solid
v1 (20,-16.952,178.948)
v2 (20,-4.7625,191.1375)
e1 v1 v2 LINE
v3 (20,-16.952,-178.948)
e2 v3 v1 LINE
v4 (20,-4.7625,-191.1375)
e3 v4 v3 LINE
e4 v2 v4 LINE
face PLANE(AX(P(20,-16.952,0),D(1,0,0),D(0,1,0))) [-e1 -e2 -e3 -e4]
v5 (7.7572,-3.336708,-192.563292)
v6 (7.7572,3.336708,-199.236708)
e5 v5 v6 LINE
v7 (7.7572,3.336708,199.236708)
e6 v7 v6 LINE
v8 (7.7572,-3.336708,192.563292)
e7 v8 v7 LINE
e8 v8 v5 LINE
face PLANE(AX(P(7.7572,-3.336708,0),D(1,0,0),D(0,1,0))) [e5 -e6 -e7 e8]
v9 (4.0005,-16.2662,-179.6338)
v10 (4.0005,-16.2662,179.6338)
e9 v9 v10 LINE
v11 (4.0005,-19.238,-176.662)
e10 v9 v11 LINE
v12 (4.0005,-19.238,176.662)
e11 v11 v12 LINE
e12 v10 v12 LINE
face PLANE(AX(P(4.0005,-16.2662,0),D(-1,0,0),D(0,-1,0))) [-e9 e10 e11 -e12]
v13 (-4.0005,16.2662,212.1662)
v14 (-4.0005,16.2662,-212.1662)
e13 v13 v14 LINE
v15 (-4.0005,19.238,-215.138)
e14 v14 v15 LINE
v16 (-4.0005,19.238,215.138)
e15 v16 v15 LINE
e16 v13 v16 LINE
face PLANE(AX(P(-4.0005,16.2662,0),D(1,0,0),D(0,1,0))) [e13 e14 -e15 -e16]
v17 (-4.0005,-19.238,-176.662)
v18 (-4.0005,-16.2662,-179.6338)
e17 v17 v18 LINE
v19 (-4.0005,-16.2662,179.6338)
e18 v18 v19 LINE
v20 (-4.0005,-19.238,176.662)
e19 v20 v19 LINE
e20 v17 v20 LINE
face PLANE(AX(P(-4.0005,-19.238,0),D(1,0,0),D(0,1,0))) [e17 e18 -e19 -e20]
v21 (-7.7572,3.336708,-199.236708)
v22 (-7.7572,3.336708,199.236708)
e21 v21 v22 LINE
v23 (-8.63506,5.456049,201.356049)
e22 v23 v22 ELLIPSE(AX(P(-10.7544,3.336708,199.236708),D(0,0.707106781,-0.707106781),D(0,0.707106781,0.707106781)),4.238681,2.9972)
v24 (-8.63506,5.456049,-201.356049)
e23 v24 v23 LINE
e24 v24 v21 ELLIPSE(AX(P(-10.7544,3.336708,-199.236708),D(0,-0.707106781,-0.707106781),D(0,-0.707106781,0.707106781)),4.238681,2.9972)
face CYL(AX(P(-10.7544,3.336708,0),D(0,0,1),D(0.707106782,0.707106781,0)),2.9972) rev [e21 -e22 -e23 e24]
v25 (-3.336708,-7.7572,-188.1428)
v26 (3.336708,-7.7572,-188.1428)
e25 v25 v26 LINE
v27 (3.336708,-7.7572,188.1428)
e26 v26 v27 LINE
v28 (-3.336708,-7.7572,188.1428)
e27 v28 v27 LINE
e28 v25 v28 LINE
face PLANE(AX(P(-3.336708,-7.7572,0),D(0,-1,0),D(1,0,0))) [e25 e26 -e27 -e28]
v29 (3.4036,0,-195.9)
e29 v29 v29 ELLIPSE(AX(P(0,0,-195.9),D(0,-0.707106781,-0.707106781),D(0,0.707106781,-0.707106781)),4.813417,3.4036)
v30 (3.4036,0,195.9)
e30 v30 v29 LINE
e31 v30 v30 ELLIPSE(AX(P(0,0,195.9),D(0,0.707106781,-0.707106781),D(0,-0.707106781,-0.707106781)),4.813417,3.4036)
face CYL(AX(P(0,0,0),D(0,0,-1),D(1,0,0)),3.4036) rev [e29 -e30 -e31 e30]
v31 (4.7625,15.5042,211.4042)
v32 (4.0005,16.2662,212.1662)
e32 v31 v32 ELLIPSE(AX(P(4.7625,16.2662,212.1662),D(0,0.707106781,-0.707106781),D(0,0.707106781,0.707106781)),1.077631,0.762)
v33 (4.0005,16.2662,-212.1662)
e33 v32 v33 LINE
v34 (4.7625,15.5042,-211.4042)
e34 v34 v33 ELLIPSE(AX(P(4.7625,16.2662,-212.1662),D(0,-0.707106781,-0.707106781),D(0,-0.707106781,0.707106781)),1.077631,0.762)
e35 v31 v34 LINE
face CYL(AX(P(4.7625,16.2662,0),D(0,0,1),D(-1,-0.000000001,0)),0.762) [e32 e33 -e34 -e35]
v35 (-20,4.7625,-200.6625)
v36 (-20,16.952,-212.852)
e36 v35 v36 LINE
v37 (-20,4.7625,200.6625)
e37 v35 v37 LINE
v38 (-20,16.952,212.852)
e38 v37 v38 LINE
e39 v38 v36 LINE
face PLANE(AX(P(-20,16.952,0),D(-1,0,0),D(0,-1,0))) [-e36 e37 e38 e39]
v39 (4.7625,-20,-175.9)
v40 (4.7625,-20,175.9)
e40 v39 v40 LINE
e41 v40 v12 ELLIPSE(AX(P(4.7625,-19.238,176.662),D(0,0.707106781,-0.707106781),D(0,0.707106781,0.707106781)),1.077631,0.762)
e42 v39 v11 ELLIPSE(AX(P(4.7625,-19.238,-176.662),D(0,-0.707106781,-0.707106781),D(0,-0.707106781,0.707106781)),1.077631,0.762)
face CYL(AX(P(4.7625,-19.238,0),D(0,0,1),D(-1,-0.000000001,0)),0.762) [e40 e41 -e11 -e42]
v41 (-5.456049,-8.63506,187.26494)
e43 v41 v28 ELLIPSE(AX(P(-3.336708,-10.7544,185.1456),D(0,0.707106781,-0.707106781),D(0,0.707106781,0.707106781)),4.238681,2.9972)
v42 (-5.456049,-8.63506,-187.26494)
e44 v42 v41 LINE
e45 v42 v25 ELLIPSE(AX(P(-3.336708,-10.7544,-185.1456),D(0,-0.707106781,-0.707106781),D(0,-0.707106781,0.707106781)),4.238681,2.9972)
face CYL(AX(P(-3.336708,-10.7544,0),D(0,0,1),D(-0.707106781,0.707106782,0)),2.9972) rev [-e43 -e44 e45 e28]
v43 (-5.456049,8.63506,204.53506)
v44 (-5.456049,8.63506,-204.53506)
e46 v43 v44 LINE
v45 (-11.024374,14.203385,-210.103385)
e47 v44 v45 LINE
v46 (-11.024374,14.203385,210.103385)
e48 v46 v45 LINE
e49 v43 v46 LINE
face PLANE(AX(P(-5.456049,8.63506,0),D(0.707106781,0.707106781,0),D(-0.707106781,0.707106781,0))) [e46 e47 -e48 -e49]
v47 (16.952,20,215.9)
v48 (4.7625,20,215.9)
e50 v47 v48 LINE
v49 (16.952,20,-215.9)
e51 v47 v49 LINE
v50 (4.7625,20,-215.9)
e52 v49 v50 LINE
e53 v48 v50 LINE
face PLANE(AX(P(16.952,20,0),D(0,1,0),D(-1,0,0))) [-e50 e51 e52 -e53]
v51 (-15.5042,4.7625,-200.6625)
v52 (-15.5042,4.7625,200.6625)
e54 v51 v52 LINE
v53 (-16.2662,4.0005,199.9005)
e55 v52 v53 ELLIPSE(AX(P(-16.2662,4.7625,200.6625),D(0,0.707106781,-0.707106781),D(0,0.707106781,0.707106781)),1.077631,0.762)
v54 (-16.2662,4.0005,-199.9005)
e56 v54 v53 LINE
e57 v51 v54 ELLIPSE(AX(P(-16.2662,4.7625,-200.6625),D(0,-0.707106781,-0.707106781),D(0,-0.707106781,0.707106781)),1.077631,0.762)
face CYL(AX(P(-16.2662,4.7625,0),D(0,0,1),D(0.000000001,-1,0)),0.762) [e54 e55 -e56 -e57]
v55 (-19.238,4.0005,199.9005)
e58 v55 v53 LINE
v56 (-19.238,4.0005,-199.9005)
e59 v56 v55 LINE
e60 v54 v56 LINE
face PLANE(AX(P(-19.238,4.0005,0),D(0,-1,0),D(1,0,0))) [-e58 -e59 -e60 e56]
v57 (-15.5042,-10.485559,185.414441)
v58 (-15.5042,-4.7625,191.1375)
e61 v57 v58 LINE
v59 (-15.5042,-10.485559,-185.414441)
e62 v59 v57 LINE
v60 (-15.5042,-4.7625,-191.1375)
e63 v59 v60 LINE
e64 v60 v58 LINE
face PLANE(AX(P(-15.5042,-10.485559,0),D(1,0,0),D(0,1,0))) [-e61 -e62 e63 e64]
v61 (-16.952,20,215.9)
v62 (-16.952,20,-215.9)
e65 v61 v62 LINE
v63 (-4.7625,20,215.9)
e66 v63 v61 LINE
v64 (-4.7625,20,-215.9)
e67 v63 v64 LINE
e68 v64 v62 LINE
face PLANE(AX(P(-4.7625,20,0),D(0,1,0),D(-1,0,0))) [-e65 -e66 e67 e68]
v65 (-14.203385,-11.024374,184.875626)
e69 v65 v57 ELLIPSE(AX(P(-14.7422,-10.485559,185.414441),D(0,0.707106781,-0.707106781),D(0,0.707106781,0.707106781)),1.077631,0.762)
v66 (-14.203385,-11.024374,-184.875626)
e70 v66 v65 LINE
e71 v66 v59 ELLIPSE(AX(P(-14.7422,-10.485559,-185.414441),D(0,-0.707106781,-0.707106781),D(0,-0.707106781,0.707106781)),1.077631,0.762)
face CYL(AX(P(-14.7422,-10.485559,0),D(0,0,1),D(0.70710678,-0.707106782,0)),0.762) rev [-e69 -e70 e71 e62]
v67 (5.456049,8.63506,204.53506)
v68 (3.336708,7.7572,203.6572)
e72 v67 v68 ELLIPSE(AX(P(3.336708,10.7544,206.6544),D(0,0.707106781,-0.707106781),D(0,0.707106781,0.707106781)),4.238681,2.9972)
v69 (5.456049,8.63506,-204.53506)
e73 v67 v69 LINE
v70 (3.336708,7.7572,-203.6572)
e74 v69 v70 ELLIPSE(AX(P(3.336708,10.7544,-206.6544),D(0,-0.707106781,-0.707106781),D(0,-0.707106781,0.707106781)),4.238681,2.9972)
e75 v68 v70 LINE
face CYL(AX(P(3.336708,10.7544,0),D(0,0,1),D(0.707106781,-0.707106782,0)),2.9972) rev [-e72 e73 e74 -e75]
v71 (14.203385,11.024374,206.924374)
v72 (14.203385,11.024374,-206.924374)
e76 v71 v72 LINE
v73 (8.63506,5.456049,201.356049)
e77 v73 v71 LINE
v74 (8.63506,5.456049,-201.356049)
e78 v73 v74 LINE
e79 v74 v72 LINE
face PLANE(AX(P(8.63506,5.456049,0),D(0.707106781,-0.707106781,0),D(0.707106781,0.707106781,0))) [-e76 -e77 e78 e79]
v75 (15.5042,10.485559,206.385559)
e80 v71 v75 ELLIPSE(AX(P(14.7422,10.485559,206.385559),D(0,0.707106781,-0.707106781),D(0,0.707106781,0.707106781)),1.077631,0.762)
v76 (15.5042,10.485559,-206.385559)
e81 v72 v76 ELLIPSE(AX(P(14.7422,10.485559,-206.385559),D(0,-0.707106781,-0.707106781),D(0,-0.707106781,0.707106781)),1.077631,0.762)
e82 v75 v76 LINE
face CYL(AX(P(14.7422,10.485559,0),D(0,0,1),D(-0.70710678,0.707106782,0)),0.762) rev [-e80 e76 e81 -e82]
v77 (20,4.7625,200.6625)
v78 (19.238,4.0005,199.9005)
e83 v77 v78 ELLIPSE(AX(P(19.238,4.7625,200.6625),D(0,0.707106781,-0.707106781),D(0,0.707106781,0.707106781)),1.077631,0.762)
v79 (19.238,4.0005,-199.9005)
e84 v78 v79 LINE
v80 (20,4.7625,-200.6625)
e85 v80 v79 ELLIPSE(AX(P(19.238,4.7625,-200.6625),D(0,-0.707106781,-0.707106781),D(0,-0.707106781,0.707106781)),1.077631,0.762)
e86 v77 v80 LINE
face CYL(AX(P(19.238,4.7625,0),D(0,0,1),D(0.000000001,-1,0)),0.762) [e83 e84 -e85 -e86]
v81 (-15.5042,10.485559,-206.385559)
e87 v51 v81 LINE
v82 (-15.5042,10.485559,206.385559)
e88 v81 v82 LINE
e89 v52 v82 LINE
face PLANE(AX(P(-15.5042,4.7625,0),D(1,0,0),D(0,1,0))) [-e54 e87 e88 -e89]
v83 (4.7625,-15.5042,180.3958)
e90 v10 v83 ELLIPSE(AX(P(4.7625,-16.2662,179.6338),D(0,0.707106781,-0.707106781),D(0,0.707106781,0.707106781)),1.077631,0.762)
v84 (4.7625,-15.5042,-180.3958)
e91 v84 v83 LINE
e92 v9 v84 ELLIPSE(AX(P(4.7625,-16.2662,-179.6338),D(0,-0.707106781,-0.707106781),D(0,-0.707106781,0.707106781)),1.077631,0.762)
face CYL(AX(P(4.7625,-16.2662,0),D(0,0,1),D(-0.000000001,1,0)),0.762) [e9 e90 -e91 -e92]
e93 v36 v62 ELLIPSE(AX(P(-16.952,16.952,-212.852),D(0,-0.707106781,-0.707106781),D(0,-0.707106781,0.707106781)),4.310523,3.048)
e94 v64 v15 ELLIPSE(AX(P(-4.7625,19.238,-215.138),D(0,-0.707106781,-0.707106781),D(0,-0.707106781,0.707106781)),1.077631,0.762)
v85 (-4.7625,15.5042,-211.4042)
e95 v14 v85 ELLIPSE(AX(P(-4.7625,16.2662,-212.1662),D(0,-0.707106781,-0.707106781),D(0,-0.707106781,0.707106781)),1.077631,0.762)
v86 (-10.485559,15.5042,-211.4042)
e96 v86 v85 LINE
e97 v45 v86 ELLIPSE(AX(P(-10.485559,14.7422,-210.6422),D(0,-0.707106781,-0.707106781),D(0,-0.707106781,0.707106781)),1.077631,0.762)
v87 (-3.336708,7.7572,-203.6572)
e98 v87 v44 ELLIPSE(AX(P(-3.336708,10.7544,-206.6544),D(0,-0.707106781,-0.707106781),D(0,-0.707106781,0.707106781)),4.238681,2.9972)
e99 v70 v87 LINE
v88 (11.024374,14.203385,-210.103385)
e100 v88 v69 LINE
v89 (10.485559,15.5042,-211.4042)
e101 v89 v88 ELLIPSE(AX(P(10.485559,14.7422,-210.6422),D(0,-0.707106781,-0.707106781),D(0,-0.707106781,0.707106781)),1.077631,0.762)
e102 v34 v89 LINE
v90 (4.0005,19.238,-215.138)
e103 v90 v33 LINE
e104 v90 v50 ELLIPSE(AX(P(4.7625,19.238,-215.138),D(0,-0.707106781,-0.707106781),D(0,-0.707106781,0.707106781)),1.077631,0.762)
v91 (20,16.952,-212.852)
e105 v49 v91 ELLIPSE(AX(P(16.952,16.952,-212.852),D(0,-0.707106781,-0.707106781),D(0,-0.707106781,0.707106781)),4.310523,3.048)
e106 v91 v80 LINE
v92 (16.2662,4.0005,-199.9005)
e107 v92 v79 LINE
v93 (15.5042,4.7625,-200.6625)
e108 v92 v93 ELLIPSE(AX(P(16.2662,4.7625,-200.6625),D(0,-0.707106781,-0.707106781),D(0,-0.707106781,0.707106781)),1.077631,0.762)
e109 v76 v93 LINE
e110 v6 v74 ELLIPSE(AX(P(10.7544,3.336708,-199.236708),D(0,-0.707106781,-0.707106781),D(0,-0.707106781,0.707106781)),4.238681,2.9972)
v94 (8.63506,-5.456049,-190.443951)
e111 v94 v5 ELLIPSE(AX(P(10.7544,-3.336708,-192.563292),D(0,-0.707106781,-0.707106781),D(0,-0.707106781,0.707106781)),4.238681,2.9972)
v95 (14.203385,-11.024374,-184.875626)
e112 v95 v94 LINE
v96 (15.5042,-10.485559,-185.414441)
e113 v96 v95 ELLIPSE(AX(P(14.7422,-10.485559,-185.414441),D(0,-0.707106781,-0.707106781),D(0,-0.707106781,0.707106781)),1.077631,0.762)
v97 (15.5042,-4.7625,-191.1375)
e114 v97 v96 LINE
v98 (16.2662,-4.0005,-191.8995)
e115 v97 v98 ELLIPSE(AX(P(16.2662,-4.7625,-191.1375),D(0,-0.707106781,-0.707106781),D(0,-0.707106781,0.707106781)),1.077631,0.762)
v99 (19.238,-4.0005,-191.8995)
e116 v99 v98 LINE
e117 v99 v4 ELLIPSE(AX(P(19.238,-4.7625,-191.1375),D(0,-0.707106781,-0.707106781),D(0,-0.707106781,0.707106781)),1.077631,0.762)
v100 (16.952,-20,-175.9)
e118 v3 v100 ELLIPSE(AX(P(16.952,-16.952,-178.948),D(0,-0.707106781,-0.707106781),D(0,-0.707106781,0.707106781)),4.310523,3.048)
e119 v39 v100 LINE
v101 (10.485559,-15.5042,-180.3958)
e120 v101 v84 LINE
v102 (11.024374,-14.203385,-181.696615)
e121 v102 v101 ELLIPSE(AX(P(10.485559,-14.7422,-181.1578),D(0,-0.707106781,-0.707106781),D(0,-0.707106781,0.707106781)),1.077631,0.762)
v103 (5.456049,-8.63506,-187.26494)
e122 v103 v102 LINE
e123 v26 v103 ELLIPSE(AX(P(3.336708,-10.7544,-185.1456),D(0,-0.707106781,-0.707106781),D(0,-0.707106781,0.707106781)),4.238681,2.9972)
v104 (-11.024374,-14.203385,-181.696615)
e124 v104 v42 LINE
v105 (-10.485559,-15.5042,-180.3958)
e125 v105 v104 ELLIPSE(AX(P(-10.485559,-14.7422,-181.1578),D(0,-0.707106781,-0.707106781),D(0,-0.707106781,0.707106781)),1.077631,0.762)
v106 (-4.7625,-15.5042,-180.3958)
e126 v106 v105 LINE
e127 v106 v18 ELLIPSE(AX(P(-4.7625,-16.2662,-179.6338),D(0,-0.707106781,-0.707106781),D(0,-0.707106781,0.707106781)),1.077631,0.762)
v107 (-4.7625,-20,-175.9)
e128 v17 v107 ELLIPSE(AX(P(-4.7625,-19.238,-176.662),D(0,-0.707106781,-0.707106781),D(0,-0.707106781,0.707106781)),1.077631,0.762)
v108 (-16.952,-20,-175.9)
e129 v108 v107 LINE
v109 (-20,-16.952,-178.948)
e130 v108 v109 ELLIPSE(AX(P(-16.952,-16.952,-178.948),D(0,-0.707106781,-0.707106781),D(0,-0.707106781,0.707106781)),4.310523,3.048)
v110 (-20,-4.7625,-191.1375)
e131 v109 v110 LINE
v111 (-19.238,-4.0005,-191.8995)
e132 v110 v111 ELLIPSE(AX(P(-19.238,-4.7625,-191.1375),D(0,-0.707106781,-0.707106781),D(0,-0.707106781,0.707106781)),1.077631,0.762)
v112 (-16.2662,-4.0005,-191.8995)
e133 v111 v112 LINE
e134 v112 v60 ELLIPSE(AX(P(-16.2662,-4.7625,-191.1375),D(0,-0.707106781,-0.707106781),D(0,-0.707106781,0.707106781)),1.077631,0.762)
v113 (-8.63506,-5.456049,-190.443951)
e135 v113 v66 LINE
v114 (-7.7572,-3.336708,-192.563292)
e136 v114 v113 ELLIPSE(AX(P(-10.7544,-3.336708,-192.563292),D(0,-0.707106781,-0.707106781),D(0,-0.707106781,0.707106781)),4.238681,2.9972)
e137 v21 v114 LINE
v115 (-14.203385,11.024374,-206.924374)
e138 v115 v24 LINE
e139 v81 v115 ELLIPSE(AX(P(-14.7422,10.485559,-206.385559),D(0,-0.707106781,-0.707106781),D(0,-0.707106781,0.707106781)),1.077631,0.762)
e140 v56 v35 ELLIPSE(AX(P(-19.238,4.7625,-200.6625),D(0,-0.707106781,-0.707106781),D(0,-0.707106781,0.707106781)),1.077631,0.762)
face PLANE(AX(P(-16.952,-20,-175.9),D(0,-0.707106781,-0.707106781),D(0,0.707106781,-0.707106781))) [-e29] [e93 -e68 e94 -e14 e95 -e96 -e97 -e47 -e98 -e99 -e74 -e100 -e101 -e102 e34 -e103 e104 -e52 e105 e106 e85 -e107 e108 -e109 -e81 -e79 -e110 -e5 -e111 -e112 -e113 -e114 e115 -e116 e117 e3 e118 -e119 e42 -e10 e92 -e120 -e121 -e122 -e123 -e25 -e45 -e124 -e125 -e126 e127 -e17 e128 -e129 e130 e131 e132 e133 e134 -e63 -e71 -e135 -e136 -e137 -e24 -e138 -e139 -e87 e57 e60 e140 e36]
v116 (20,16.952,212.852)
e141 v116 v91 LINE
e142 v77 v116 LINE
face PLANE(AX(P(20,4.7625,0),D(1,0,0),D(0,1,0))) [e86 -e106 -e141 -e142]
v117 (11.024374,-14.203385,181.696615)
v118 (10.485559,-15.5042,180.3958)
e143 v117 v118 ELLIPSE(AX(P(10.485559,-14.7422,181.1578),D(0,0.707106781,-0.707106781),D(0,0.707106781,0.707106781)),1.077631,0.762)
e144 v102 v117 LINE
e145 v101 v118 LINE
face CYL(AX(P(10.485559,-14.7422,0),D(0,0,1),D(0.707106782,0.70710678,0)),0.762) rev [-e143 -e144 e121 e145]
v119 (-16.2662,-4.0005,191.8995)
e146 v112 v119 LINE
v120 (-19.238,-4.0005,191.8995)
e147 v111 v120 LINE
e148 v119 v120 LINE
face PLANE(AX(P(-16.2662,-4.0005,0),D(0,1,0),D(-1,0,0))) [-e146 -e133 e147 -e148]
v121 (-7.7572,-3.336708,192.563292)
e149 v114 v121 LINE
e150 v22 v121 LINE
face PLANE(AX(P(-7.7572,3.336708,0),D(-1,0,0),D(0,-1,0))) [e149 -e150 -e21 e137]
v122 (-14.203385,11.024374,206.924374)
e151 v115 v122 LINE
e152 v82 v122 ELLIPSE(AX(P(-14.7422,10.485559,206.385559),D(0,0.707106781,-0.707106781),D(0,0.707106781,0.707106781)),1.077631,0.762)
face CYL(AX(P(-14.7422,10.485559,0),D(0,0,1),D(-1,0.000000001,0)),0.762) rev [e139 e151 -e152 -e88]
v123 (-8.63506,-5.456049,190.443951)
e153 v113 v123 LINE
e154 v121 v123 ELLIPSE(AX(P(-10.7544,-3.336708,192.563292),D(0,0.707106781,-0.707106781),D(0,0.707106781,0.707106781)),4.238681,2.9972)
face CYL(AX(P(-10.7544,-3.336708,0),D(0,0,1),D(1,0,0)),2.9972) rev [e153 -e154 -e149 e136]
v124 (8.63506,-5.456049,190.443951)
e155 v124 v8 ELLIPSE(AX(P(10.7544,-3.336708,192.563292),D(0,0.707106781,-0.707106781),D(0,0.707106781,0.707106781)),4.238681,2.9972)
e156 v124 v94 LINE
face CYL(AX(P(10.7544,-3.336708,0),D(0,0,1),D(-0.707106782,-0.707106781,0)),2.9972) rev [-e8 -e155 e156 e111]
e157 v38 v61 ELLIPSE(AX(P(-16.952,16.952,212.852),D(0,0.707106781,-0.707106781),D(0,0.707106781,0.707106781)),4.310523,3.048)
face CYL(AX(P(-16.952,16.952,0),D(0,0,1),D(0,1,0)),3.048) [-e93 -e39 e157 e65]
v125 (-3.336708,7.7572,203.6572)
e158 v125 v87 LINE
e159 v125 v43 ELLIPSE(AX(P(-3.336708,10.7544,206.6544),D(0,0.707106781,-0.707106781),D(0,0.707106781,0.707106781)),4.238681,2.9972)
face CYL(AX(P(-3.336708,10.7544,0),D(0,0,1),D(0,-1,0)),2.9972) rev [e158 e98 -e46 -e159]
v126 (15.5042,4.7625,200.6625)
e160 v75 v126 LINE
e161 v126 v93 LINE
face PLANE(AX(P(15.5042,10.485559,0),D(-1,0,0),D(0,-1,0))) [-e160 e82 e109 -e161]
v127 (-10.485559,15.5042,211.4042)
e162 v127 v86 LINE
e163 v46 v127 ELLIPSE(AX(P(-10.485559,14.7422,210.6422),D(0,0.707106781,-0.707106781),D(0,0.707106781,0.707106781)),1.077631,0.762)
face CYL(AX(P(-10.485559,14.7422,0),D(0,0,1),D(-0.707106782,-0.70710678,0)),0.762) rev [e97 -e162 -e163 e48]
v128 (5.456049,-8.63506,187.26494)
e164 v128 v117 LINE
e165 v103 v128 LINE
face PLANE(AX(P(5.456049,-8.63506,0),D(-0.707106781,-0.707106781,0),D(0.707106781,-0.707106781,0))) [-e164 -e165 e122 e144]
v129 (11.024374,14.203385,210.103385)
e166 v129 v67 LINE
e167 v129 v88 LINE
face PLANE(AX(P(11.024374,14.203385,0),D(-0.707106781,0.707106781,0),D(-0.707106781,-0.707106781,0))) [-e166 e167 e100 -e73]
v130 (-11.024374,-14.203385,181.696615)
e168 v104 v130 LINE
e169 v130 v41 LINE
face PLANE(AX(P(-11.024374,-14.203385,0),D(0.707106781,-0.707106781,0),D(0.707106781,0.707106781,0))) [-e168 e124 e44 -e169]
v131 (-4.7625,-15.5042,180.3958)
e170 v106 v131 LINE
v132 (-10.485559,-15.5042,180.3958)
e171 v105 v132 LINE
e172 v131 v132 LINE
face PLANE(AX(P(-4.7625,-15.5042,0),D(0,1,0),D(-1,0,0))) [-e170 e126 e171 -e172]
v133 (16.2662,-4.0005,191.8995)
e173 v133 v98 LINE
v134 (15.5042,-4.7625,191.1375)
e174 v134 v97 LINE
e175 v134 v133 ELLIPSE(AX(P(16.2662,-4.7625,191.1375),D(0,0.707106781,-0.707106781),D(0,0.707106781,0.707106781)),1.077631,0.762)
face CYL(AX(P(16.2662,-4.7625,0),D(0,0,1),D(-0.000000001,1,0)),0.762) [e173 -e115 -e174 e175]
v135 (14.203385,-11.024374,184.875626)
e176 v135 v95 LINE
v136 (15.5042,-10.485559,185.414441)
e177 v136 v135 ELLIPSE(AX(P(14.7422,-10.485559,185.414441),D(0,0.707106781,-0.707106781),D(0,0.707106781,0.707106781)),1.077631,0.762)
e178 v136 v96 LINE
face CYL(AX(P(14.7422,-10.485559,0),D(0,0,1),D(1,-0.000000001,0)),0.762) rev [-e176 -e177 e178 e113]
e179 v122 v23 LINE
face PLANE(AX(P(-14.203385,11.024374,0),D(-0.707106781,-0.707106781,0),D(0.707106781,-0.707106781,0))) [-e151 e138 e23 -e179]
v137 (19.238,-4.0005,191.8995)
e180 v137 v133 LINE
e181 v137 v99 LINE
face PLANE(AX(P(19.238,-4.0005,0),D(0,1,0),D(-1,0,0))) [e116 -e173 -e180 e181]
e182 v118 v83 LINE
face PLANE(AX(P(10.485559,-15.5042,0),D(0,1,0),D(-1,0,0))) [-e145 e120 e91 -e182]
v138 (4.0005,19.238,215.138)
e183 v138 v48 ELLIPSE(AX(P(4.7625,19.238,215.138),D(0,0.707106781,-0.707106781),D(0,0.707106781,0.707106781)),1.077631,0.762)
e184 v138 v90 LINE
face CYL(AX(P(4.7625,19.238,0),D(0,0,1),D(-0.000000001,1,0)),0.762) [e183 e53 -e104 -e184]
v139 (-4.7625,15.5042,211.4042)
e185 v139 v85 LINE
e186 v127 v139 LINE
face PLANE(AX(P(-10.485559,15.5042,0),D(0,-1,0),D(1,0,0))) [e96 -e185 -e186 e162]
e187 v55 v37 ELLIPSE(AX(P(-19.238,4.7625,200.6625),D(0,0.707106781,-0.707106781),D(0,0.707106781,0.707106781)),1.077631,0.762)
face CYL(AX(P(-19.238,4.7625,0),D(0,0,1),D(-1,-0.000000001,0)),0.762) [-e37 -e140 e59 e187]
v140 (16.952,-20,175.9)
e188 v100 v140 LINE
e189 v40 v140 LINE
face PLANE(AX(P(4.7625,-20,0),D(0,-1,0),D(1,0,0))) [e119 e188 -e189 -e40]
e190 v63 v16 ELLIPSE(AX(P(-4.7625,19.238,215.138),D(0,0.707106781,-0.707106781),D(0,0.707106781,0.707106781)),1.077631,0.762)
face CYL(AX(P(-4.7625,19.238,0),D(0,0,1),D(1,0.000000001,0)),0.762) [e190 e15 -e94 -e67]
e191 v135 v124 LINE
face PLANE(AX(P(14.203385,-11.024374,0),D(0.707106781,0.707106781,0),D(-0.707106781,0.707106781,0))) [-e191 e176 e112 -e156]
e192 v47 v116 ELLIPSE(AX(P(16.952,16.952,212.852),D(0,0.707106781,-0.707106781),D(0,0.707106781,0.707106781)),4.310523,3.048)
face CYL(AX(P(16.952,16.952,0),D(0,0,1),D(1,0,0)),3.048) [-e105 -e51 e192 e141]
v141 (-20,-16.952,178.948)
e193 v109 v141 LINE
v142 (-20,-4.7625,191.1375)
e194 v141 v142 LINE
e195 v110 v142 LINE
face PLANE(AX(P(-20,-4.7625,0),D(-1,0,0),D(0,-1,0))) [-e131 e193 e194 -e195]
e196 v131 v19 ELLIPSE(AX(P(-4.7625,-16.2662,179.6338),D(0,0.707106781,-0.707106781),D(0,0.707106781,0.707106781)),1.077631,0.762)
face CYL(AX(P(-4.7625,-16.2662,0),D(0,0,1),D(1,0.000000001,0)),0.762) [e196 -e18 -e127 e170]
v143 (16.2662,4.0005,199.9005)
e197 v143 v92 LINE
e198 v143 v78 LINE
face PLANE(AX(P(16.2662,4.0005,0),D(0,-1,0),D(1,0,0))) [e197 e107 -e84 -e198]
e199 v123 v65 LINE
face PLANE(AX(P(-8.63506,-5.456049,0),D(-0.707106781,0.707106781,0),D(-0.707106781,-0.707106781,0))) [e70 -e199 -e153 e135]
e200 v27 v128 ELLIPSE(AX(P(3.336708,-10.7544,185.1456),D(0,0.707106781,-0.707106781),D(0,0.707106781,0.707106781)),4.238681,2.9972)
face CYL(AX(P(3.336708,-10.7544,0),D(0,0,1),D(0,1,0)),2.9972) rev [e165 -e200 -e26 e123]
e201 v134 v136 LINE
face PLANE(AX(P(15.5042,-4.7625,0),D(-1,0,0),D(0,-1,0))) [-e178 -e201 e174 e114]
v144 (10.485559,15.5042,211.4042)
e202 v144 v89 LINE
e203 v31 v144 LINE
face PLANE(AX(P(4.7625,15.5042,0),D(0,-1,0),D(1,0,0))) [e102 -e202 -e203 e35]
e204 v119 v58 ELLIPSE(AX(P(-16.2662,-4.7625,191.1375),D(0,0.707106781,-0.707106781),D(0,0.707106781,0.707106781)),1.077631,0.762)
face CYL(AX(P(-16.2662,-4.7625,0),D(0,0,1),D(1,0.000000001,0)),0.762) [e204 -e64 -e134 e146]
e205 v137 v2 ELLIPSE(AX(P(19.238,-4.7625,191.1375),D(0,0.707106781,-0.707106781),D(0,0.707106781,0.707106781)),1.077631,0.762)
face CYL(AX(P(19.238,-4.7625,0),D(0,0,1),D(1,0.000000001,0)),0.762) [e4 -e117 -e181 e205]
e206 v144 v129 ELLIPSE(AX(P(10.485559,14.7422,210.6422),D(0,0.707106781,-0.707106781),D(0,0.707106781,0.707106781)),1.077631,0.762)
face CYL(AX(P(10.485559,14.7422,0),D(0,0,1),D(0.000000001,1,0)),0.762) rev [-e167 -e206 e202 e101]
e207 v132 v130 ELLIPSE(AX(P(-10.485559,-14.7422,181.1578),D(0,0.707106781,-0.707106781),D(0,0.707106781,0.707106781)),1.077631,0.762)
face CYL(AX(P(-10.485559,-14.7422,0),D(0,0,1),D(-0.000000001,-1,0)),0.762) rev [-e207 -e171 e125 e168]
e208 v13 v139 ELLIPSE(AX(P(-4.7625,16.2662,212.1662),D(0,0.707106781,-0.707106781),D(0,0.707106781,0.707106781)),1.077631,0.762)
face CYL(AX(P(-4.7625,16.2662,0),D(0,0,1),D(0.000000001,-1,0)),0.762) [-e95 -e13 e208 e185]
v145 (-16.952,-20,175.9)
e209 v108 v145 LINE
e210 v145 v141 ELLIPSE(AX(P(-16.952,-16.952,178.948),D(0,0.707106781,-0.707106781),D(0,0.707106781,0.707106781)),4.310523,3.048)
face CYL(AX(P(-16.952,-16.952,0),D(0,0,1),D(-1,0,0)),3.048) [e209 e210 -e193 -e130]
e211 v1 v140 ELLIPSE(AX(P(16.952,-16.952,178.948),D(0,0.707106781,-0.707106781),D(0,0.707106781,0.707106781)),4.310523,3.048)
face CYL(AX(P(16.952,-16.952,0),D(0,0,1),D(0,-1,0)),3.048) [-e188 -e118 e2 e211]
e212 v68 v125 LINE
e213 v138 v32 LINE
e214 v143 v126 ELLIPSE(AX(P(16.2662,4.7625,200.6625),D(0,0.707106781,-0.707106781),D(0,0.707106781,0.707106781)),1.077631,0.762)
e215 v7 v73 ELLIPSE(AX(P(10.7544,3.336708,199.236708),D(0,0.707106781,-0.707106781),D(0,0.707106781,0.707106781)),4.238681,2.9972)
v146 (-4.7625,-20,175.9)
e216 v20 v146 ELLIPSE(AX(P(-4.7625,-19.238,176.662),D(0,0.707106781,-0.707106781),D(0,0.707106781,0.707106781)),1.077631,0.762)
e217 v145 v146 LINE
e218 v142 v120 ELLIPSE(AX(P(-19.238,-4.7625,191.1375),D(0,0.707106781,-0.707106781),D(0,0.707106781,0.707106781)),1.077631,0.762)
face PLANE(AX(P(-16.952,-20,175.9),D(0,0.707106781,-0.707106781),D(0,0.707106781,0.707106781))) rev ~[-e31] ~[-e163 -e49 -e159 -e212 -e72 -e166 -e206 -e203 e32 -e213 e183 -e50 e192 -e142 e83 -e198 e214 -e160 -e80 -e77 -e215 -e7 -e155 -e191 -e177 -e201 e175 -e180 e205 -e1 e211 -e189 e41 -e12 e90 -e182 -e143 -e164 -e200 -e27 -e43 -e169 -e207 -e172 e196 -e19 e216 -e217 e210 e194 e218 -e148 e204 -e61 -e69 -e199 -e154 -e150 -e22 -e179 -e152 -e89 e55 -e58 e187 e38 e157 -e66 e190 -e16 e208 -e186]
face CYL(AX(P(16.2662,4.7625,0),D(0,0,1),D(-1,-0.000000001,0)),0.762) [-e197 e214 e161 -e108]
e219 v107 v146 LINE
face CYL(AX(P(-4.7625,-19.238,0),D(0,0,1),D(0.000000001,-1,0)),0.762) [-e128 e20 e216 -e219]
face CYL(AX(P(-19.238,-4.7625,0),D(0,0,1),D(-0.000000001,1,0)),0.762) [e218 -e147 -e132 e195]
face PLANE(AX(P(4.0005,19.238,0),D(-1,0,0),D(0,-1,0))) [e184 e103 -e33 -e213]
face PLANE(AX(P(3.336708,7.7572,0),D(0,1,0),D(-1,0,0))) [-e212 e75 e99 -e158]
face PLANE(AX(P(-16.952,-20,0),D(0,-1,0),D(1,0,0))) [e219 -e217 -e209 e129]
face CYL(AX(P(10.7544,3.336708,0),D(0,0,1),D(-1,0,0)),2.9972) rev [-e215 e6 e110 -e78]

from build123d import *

# Parameters (mm, degrees)
SKETCH1_R          = 3.4036
EXTRUDE1_DEPTH     = 215.9
CUT_EXTRUDE1_DEPTH = 436.22027791
CUT_EXTRUDE2_DEPTH = 3.048
CUT_EXTRUDE5_REACH = 437.22
CUT_EXTRUDE6_DEPTH = 3.048


with BuildPart() as part:
    # Sketch1 → Extrude1 (new, symmetric)
    with BuildSketch(Plane.XY):
        with BuildLine():
            Line((-20, 16.952), (-20, 4.7625))
            ThreePointArc((-20, 4.7625), (-19.776815367, 4.223684633), (-19.238, 4.0005))
            Line((-19.238, 4.0005), (-16.2662, 4.0005))
            ThreePointArc((-16.2662, 4.0005), (-15.727384633, 4.223684633), (-15.5042, 4.7625))
            Line((-15.5042, 4.7625), (-15.5042, 10.485558599))
            ThreePointArc((-15.5042, 10.485558599), (-15.033804775, 11.189554802), (-14.203384633, 11.024373966))
            Line((-14.203384633, 11.024373966), (-8.635059555, 5.456048889))
            ThreePointArc((-8.635059555, 5.456048889), (-7.985348265, 4.483687227), (-7.7572, 3.336708444))
            Line((-7.7572, 3.336708444), (-7.7572, -3.336708444))
            ThreePointArc((-7.7572, -3.336708444), (-7.985348265, -4.483687227), (-8.635059555, -5.456048889))
            Line((-8.635059555, -5.456048889), (-14.203384633, -11.024373966))
            ThreePointArc((-14.203384633, -11.024373966), (-15.033804775, -11.189554802), (-15.5042, -10.485558599))
            Line((-15.5042, -10.485558599), (-15.5042, -4.7625))
            ThreePointArc((-15.5042, -4.7625), (-15.727384633, -4.223684633), (-16.2662, -4.0005))
            Line((-16.2662, -4.0005), (-19.238, -4.0005))
            ThreePointArc((-19.238, -4.0005), (-19.776815367, -4.223684633), (-20, -4.7625))
            Line((-20, -4.7625), (-20, -16.952))
            ThreePointArc((-20, -16.952), (-19.107261469, -19.107261469), (-16.952, -20))
            Line((-16.952, -20), (-4.7625, -20))
            ThreePointArc((-4.7625, -20), (-4.223684633, -19.776815367), (-4.0005, -19.238))
            Line((-4.0005, -19.238), (-4.0005, -16.2662))
            ThreePointArc((-4.0005, -16.2662), (-4.223684633, -15.727384633), (-4.7625, -15.5042))
            Line((-4.7625, -15.5042), (-10.485558599, -15.5042))
            ThreePointArc((-10.485558599, -15.5042), (-11.189554802, -15.033804775), (-11.024373966, -14.203384633))
            Line((-11.024373966, -14.203384633), (-5.456048889, -8.635059555))
            ThreePointArc((-5.456048889, -8.635059555), (-4.483687227, -7.985348265), (-3.336708444, -7.7572))
            Line((-3.336708444, -7.7572), (3.336708444, -7.7572))
            ThreePointArc((3.336708444, -7.7572), (4.483687227, -7.985348265), (5.456048889, -8.635059555))
            Line((5.456048889, -8.635059555), (11.024373966, -14.203384633))
            ThreePointArc((11.024373966, -14.203384633), (11.189554802, -15.033804775), (10.485558599, -15.5042))
            Line((10.485558599, -15.5042), (4.7625, -15.5042))
            ThreePointArc((4.7625, -15.5042), (4.223684633, -15.727384633), (4.0005, -16.2662))
            Line((4.0005, -16.2662), (4.0005, -19.238))
            ThreePointArc((4.0005, -19.238), (4.223684633, -19.776815367), (4.7625, -20))
            Line((4.7625, -20), (16.952, -20))
            ThreePointArc((16.952, -20), (19.107261469, -19.107261469), (20, -16.952))
            Line((20, -16.952), (20, -4.7625))
            ThreePointArc((20, -4.7625), (19.776815367, -4.223684633), (19.238, -4.0005))
            Line((19.238, -4.0005), (16.2662, -4.0005))
            ThreePointArc((16.2662, -4.0005), (15.727384633, -4.223684633), (15.5042, -4.7625))
            Line((15.5042, -4.7625), (15.5042, -10.485558599))
            ThreePointArc((15.5042, -10.485558599), (15.033804775, -11.189554802), (14.203384633, -11.024373966))
            Line((14.203384633, -11.024373966), (8.635059555, -5.456048889))
            ThreePointArc((8.635059555, -5.456048889), (7.985348265, -4.483687227), (7.7572, -3.336708444))
            Line((7.7572, -3.336708444), (7.7572, 3.336708444))
            ThreePointArc((7.7572, 3.336708444), (7.985348265, 4.483687227), (8.635059555, 5.456048889))
            Line((8.635059555, 5.456048889), (14.203384633, 11.024373966))
            ThreePointArc((14.203384633, 11.024373966), (15.033804775, 11.189554802), (15.5042, 10.485558599))
            Line((15.5042, 10.485558599), (15.5042, 4.7625))
            ThreePointArc((15.5042, 4.7625), (15.727384633, 4.223684633), (16.2662, 4.0005))
            Line((16.2662, 4.0005), (19.238, 4.0005))
            ThreePointArc((19.238, 4.0005), (19.776815367, 4.223684633), (20, 4.7625))
            Line((20, 4.7625), (20, 16.952))
            ThreePointArc((20, 16.952), (19.107261469, 19.107261469), (16.952, 20))
            Line((16.952, 20), (4.7625, 20))
            ThreePointArc((4.7625, 20), (4.223684633, 19.776815367), (4.0005, 19.238))
            Line((4.0005, 19.238), (4.0005, 16.2662))
            ThreePointArc((4.0005, 16.2662), (4.223684633, 15.727384633), (4.7625, 15.5042))
            Line((4.7625, 15.5042), (10.485558599, 15.5042))
            ThreePointArc((10.485558599, 15.5042), (11.189554802, 15.033804775), (11.024373966, 14.203384633))
            Line((11.024373966, 14.203384633), (5.456048889, 8.635059555))
            ThreePointArc((5.456048889, 8.635059555), (4.483687227, 7.985348265), (3.336708444, 7.7572))
            Line((3.336708444, 7.7572), (-3.336708444, 7.7572))
            ThreePointArc((-3.336708444, 7.7572), (-4.483687227, 7.985348265), (-5.456048889, 8.635059555))
            Line((-5.456048889, 8.635059555), (-11.024373966, 14.203384633))
            ThreePointArc((-11.024373966, 14.203384633), (-11.189554802, 15.033804775), (-10.485558599, 15.5042))
            Line((-10.485558599, 15.5042), (-4.7625, 15.5042))
            ThreePointArc((-4.7625, 15.5042), (-4.223684633, 15.727384633), (-4.0005, 16.2662))
            Line((-4.0005, 16.2662), (-4.0005, 19.238))
            ThreePointArc((-4.0005, 19.238), (-4.223684633, 19.776815367), (-4.7625, 20))
            Line((-4.7625, 20), (-16.952, 20))
            ThreePointArc((-16.952, 20), (-19.107261469, 19.107261469), (-20, 16.952))
        make_face()
        Circle(SKETCH1_R, mode=Mode.SUBTRACT)
    extrude(amount=EXTRUDE1_DEPTH, both=True)

    # Sketch3 → Cut-Extrude1 (cut, through all)
    with BuildSketch(Plane(origin=(-16.952, 20, 215.9), x_dir=(0, 0, 1), z_dir=(-1, 0, 0))):
        Polygon((0, 0), (-40, -40), (0, -40), align=None)
    extrude(amount=-CUT_EXTRUDE1_DEPTH, mode=Mode.SUBTRACT)

    # Sketch4 → Cut-Extrude2 (cut)
    with BuildSketch(Plane(origin=(-16.952, 0, 0), x_dir=(0, 0, -1), z_dir=(1, 0, 0))):
        Polygon((-215.9, 20), (-215.9, -20), (-175.9, -20), align=None)
    extrude(amount=-CUT_EXTRUDE2_DEPTH, mode=Mode.SUBTRACT)

    # Cut-Extrude5: up to this face of the body (flat: up to its plane)
    cut_extrude5_end = Plane(part.part.faces().sort_by_distance((20, 10.886545588, -4.556727206))[0])
    # Sketch9 → Cut-Extrude5 (cut, up to the picked face)
    with BuildSketch(Plane(origin=(-16.952, 20, 215.9), x_dir=(0, 0, 1), z_dir=(-1, 0, 0)), mode=Mode.PRIVATE) as cut_extrude5_sk1:
        Polygon((-431.8, 0), (-391.8, -40), (-431.8, -40), align=None)
    cut_extrude5_tool1 = split(extrude(cut_extrude5_sk1.sketch, amount=-CUT_EXTRUDE5_REACH, mode=Mode.PRIVATE), bisect_by=cut_extrude5_end, keep=Keep.BOTH, mode=Mode.PRIVATE)
    add(cut_extrude5_tool1.solids().sort_by(Axis((-16.952, -6.666667, -202.566667), (1, 0, 0)))[0], mode=Mode.SUBTRACT)

    # Sketch11 → Cut-Extrude6 (cut)
    with BuildSketch(Plane(origin=(-16.952, 0, 0), x_dir=(0, 0, -1), z_dir=(1, 0, 0))):
        Polygon((175.9, -20), (215.9, 20), (215.9, -20), align=None)
    extrude(amount=-CUT_EXTRUDE6_DEPTH, mode=Mode.SUBTRACT)


solid = part.part
